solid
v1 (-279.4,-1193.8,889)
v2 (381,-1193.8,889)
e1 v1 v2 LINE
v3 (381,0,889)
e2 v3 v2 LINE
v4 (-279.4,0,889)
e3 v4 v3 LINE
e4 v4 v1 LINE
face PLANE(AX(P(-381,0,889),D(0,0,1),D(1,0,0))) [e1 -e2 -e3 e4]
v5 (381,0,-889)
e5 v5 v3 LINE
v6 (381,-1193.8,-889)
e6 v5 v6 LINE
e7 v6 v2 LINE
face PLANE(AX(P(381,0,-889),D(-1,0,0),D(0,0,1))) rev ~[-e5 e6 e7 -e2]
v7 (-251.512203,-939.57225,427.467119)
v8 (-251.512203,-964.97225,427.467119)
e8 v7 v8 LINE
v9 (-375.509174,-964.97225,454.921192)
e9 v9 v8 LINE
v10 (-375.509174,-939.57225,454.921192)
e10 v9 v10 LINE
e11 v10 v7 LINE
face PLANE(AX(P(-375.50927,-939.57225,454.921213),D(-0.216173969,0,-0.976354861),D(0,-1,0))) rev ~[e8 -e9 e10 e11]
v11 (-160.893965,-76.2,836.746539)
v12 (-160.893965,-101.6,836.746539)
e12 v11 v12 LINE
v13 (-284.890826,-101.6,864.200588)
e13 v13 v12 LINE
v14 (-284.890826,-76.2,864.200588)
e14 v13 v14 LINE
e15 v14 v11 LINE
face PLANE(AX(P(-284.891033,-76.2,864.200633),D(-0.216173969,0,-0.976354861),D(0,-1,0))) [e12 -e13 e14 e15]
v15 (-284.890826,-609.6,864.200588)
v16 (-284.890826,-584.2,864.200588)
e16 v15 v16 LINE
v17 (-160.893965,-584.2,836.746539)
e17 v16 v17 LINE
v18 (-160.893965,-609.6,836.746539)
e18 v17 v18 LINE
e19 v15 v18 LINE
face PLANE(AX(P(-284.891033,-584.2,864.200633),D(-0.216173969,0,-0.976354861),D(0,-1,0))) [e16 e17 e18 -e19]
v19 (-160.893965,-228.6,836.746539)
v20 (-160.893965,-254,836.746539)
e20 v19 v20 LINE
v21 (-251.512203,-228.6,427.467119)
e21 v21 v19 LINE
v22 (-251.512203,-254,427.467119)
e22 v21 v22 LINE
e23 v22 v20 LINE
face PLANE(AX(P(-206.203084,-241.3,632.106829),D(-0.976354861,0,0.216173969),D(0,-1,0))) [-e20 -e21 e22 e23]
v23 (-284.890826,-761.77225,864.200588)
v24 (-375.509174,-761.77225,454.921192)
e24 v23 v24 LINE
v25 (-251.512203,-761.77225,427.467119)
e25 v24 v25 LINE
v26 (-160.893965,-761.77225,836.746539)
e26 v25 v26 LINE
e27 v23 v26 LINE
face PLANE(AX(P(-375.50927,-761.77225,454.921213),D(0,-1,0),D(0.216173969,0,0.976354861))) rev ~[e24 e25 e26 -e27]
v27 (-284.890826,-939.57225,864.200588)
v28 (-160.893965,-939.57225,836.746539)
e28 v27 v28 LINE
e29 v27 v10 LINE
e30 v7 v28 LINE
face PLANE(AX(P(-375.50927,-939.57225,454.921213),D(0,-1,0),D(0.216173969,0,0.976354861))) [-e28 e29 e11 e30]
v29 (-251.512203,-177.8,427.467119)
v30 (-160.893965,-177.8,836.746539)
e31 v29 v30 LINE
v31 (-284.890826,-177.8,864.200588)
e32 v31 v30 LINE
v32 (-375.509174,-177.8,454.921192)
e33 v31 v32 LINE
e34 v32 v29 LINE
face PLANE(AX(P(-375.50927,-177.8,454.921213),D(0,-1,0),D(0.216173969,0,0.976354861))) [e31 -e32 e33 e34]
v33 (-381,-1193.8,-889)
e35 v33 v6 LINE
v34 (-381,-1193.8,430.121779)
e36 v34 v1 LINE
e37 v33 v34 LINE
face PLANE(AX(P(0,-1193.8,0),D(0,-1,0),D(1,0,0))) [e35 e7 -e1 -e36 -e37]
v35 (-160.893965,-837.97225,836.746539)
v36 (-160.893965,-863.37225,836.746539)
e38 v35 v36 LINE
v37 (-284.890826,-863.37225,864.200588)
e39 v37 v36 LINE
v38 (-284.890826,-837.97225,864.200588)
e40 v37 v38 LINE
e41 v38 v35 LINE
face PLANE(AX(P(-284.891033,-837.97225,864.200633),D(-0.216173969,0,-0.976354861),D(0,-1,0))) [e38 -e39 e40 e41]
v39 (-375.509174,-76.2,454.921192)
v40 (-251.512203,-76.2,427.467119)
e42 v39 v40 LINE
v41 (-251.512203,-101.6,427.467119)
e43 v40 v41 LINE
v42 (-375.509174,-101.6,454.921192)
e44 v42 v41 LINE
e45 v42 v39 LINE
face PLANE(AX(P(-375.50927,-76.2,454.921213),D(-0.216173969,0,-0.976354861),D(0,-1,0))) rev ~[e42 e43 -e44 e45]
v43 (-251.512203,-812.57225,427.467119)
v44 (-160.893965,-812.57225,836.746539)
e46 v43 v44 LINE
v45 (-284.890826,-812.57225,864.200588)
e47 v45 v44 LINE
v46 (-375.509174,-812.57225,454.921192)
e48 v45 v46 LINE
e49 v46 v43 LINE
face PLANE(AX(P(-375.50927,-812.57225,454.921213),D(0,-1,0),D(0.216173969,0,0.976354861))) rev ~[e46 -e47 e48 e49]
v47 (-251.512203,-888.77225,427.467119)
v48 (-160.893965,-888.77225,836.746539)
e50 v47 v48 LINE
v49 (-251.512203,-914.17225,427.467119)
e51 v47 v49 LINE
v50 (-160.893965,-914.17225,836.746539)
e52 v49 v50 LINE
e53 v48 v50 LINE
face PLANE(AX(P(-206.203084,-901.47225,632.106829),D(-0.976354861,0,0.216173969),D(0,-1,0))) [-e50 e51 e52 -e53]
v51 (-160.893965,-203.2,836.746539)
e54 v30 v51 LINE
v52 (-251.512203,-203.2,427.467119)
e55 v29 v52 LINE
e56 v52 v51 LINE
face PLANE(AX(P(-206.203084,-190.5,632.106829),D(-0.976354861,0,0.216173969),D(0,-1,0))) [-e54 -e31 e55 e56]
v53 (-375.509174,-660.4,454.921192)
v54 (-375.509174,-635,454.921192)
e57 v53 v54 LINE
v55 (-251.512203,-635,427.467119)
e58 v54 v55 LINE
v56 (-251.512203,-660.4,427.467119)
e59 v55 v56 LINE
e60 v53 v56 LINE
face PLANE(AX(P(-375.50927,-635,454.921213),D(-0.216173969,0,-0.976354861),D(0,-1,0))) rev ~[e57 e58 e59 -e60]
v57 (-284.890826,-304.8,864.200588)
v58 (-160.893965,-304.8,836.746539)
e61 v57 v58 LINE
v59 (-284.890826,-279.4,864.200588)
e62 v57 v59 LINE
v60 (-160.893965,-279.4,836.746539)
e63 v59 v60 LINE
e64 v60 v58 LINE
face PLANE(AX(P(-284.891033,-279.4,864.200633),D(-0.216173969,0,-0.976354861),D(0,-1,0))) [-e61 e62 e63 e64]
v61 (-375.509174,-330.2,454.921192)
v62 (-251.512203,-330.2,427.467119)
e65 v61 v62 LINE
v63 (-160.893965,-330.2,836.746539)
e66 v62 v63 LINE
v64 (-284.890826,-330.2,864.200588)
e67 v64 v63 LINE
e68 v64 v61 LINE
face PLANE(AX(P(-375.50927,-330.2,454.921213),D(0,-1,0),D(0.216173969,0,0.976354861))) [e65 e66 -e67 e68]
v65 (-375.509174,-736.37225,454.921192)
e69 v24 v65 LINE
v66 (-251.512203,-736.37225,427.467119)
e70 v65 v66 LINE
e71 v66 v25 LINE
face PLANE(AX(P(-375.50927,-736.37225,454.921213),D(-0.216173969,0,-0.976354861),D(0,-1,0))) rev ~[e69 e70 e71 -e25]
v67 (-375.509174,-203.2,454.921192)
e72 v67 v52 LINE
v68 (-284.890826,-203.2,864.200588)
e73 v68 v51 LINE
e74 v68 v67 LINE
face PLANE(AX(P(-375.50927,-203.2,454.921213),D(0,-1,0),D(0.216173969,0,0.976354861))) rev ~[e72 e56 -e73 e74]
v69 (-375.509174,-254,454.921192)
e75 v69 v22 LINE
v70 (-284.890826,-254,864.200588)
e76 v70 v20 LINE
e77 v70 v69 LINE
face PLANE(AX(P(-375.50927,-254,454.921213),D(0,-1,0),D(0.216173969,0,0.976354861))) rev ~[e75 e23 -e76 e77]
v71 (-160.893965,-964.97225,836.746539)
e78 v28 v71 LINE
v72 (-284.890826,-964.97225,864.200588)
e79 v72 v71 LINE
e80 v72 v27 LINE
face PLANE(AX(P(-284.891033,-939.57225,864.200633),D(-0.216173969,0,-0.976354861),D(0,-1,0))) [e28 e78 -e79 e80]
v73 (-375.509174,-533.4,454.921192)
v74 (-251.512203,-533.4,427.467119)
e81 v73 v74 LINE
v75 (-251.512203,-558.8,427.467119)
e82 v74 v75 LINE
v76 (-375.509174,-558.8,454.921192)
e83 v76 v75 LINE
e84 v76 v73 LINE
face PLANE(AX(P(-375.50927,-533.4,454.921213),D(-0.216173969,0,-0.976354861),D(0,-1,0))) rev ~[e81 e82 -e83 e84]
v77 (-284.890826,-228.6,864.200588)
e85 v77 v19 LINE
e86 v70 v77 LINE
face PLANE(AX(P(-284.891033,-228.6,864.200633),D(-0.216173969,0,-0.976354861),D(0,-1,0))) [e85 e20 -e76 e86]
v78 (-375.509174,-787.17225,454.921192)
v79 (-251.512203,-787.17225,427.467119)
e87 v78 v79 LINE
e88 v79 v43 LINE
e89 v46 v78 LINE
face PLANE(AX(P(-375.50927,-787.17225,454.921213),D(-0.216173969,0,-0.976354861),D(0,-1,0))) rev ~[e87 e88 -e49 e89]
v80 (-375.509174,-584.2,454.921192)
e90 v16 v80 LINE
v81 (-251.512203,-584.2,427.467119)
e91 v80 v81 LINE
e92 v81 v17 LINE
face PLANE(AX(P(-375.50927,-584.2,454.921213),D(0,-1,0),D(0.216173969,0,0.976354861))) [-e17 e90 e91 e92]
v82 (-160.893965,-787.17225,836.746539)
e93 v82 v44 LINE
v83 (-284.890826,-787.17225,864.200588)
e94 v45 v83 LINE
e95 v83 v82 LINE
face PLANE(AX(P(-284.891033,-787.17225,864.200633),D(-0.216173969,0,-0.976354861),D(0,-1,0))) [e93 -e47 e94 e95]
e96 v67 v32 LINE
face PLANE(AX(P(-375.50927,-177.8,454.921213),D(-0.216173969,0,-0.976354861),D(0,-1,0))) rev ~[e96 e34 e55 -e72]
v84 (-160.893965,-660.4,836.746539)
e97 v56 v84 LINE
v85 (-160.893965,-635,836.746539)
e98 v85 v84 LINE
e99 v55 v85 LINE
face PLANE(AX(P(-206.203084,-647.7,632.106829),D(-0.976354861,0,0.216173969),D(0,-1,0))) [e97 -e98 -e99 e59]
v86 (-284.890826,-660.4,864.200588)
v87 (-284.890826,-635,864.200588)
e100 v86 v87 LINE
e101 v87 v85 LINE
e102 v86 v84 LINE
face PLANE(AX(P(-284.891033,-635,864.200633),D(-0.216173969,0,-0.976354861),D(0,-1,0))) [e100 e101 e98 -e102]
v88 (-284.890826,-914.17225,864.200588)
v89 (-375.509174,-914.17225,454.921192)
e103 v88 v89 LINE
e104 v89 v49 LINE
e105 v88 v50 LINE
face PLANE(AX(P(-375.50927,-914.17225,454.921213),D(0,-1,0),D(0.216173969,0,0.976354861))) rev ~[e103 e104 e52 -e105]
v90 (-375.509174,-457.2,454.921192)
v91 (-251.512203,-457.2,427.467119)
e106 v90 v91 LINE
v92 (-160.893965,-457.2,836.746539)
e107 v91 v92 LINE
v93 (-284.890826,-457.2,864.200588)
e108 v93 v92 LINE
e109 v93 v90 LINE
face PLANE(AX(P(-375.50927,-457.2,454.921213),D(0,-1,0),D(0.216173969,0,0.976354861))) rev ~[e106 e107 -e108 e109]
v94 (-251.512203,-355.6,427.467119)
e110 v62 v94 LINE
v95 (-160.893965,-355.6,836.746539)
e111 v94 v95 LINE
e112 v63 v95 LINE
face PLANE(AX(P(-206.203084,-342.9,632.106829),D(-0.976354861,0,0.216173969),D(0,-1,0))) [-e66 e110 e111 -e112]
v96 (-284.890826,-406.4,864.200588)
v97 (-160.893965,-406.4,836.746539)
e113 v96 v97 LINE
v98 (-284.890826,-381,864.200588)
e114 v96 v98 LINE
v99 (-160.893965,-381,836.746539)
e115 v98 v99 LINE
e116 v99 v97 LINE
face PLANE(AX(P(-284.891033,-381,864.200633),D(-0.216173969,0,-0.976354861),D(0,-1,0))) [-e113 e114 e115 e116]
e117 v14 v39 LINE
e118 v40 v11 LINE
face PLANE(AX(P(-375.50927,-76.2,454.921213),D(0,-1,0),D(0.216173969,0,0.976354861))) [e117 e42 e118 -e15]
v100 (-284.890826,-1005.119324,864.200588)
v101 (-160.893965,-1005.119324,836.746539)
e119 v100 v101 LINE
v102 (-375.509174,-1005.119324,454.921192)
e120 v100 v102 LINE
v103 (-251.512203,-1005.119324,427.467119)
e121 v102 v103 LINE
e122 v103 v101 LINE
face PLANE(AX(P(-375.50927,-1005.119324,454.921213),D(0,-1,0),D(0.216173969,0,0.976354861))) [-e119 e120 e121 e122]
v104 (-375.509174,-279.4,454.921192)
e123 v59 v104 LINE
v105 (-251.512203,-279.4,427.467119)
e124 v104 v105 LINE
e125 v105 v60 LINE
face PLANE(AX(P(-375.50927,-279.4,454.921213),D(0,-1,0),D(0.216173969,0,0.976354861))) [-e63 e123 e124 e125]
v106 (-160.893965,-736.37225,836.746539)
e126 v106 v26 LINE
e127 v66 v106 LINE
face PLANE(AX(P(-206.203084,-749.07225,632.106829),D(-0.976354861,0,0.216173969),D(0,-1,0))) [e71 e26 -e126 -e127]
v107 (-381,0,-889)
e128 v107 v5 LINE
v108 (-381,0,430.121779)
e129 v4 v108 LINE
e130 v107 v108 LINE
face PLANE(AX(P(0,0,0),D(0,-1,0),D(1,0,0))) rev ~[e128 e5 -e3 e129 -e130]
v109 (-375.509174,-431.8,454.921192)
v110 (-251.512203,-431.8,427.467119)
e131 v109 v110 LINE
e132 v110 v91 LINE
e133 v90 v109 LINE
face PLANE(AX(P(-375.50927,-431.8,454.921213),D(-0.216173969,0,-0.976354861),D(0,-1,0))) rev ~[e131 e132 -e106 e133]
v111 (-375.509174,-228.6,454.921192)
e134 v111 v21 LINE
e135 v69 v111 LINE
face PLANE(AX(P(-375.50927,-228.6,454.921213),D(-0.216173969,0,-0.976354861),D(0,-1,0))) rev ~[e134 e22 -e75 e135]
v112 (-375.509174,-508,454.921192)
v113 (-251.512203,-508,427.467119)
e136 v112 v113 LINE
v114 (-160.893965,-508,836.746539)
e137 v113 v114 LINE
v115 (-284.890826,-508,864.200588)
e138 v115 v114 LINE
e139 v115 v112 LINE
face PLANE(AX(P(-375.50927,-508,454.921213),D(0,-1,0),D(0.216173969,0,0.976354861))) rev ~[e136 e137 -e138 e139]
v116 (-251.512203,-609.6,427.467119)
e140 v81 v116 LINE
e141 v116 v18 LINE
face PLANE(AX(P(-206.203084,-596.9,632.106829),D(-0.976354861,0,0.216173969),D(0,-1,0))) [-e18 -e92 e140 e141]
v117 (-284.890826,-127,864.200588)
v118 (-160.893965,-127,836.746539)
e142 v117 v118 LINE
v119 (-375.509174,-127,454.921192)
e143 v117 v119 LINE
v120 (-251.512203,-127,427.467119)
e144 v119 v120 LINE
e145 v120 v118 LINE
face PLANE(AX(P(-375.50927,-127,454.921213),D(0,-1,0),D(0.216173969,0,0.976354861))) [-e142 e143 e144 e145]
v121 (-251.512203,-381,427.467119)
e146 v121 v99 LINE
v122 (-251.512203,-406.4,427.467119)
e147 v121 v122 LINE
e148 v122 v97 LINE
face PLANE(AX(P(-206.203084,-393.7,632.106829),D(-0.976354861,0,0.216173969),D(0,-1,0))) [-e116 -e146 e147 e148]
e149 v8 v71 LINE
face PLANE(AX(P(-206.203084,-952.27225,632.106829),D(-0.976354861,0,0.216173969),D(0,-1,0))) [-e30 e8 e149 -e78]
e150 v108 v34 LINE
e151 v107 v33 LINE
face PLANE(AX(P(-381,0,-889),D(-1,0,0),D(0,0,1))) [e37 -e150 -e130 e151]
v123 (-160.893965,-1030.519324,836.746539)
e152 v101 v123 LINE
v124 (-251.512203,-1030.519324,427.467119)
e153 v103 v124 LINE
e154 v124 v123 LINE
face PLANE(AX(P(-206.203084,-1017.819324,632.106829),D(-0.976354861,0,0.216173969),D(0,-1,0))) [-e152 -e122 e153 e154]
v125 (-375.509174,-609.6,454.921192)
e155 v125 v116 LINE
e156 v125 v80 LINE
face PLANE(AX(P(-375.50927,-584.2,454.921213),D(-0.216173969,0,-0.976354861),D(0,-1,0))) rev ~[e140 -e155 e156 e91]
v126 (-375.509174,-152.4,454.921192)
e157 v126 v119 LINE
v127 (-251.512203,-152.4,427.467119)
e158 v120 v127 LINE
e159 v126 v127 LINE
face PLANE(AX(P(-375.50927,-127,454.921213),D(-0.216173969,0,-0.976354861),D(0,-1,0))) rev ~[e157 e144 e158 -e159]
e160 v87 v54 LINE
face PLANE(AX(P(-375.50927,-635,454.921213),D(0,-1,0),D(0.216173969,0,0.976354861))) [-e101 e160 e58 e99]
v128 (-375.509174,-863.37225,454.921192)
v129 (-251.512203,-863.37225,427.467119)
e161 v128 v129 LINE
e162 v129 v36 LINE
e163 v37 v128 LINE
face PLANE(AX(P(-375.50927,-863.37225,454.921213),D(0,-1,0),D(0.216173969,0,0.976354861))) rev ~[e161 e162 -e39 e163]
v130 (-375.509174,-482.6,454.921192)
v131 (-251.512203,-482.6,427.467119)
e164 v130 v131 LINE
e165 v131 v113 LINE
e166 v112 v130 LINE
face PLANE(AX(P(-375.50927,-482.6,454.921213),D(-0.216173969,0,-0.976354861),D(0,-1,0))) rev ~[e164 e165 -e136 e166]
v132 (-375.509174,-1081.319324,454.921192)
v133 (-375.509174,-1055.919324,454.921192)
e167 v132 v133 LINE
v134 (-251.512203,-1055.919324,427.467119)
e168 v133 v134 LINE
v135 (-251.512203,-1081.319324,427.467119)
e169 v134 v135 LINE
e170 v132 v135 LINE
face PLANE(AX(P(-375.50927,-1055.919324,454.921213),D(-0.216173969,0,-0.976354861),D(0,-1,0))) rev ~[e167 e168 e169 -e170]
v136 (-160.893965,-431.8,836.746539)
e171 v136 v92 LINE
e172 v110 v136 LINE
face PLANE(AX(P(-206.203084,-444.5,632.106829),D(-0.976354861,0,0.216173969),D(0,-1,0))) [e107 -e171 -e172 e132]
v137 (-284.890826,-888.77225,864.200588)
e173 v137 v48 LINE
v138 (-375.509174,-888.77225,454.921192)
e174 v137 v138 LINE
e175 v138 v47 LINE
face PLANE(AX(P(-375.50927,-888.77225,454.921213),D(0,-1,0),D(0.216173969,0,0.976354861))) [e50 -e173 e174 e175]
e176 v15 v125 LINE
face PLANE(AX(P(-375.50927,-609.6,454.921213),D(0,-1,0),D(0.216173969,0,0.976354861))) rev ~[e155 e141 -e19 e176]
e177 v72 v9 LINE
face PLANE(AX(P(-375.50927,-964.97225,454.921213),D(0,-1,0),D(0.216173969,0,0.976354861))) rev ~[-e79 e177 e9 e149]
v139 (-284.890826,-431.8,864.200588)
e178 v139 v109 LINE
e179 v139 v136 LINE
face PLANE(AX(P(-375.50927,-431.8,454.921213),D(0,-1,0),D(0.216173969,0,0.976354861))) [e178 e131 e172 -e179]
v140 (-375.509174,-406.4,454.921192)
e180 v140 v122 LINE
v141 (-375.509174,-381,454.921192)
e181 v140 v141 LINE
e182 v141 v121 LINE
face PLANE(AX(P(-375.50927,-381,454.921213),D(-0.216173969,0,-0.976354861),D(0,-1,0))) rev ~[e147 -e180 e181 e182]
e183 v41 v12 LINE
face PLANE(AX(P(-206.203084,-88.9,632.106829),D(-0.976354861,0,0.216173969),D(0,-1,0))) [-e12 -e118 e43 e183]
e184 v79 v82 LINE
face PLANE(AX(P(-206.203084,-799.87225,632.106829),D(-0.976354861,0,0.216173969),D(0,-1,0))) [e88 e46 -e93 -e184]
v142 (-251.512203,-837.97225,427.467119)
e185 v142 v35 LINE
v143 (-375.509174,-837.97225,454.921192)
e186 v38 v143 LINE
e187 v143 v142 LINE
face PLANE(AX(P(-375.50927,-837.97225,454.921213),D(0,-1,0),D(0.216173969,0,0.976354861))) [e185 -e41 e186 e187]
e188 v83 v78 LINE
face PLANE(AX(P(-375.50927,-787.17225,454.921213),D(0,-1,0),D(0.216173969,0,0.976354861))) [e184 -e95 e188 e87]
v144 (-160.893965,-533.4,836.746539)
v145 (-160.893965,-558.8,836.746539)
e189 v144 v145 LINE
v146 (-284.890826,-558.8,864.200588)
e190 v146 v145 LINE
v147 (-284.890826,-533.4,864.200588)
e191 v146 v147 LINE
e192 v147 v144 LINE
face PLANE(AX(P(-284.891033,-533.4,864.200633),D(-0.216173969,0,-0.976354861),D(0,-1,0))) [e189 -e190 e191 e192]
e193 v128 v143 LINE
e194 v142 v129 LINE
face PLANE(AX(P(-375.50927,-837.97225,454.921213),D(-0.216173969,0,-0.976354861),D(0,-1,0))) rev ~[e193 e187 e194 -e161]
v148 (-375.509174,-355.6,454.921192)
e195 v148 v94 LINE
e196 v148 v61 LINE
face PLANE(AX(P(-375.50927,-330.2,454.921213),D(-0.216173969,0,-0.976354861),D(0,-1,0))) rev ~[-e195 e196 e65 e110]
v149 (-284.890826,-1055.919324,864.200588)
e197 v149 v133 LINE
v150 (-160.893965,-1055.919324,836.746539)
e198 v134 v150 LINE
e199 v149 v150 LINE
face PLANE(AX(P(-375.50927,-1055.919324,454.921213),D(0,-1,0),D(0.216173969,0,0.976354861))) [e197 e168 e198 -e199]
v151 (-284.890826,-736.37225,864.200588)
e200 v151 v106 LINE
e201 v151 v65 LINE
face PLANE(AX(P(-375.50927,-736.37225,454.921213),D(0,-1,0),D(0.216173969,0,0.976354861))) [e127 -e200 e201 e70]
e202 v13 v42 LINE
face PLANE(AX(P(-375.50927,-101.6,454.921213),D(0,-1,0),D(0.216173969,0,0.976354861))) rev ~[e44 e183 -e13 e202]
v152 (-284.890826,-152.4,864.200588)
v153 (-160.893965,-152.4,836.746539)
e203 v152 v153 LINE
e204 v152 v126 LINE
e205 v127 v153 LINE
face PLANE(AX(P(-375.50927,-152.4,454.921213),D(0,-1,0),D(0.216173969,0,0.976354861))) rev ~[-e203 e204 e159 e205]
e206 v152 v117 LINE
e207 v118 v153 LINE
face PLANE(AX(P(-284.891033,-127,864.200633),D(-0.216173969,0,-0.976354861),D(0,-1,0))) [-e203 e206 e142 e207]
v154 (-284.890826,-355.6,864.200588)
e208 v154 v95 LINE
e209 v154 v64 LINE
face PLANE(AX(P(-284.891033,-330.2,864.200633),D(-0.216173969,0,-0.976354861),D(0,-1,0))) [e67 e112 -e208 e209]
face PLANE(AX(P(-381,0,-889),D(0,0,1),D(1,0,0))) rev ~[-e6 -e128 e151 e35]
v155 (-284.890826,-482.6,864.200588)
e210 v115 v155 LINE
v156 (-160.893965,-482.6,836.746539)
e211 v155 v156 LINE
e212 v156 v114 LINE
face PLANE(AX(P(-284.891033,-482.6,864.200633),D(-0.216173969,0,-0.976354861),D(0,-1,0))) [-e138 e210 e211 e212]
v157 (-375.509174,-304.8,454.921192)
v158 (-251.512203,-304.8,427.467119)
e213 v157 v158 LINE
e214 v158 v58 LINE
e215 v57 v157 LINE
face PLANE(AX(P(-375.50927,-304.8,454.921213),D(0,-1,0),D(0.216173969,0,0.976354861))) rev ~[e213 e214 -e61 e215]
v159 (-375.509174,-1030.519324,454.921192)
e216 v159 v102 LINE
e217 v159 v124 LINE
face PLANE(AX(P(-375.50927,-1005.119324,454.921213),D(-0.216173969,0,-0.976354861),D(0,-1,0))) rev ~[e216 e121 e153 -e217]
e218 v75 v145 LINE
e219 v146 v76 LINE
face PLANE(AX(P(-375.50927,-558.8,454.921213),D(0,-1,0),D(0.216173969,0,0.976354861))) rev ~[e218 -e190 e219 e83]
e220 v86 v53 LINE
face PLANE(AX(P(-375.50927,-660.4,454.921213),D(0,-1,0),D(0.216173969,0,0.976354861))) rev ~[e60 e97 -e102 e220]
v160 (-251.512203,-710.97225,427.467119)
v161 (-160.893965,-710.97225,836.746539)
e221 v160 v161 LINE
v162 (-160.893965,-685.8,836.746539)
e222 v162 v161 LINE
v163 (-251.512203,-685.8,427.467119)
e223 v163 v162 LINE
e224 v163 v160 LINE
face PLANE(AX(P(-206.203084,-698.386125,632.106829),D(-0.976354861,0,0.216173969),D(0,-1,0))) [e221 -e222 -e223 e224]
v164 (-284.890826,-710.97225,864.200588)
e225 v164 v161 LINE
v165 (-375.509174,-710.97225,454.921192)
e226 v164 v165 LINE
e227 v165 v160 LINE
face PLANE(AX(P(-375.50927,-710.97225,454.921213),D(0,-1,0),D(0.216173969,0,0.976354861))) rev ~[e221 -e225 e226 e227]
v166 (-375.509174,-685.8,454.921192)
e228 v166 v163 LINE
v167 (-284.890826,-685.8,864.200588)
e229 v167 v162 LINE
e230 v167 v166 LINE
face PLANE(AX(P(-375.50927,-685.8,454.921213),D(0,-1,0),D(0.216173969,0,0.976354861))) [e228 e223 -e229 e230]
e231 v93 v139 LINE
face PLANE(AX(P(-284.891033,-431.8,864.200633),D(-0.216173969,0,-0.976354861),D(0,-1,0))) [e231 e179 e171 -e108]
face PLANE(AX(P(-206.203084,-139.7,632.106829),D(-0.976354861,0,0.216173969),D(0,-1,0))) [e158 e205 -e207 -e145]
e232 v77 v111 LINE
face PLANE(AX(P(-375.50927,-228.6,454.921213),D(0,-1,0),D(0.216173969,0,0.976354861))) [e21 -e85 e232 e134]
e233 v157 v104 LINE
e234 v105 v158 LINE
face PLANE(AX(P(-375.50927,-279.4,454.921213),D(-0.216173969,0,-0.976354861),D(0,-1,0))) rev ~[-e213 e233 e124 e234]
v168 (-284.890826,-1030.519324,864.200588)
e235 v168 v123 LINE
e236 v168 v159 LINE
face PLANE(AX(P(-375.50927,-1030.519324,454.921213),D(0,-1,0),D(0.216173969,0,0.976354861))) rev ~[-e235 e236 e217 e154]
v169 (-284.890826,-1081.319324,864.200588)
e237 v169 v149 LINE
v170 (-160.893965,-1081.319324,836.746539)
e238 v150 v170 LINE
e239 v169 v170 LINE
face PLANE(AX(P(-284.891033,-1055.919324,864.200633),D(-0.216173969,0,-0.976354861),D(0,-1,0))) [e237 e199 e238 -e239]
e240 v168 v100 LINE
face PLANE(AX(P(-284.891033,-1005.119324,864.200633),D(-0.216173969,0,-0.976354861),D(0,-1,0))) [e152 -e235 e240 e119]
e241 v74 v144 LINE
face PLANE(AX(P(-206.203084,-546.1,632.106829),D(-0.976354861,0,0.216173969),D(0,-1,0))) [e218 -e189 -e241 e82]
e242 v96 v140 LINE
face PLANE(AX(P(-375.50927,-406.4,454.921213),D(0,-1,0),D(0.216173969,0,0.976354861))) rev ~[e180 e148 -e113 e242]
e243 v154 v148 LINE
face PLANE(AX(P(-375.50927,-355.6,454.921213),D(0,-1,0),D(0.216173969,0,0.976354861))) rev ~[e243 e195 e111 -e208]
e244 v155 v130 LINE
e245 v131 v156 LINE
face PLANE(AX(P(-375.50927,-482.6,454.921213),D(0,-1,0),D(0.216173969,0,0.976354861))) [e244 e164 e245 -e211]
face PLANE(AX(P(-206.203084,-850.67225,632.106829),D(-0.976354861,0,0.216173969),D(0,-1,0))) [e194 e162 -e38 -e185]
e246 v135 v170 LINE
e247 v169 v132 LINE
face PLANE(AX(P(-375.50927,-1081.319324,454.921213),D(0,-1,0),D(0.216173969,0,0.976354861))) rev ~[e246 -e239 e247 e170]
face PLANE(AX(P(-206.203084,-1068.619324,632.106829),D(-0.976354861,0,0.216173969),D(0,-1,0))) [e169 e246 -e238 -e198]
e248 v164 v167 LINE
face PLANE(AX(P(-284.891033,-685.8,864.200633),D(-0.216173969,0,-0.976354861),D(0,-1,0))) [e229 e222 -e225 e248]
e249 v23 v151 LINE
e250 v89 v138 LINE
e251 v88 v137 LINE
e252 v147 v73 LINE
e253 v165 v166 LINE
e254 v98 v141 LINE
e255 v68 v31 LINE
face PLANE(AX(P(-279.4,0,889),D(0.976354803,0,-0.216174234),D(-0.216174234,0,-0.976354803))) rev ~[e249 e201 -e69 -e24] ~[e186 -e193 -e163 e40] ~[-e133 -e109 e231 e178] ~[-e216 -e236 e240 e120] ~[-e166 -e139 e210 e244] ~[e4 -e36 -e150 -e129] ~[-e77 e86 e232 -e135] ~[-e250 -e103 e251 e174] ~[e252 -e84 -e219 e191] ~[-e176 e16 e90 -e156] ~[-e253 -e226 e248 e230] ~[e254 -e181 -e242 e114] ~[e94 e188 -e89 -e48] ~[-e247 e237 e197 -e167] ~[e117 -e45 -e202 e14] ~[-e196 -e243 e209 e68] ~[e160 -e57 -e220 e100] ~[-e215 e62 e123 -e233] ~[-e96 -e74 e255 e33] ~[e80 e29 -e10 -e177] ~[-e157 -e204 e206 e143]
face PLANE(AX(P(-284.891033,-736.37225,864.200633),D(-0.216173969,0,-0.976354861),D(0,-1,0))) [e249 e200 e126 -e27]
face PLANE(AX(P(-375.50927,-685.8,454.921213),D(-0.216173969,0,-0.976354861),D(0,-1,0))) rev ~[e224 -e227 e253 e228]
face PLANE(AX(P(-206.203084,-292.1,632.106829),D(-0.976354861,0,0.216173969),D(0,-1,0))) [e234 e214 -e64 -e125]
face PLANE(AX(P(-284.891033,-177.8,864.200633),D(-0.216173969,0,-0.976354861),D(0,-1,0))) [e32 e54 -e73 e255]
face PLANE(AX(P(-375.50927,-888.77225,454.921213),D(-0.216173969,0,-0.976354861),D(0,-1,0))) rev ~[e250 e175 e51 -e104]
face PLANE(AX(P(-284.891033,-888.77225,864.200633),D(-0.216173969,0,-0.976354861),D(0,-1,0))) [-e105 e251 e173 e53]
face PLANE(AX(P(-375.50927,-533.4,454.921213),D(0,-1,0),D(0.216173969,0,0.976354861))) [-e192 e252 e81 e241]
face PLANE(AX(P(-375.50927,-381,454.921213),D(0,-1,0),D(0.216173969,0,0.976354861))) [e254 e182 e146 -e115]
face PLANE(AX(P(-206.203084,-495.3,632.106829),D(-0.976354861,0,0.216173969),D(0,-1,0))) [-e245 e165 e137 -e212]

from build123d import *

# Parameters (mm, degrees)
F0_W     = 762
F0_H     = 1778
F1_DEPTH = 1193.8
F3_DEPTH = 1524
F4_W     = 25.4
F4_H     = 419.191256
F4_W_2   = 25.17225
F5_DEPTH = 127


with BuildPart() as f1:
    # F0 (on Front) → F1 (new body)
    with BuildSketch(Plane.XZ):
        Rectangle(F0_W, F0_H)
    extrude(amount=F1_DEPTH)

    # F2 (on face) → F3 (cut)
    with BuildSketch(Plane(origin=(0, 0, 0), x_dir=(-1, 0, 0), z_dir=(0, 1, 0))):
        Polygon((381, 889), (279.4, 889), (381, 430.121779), align=None)
    extrude(amount=-F3_DEPTH, mode=Mode.SUBTRACT)

    # F4 (on face) → F5 (cut)
    with BuildSketch(Plane(origin=(-453.978061, 0, 100.515058), x_dir=(0, -1, 0), z_dir=(-0.976355, 0, 0.216174))):
        with Locations((88.9, 572.58471)):
            Rectangle(F4_W, F4_H)
        with Locations((139.7, 572.58471)):
            Rectangle(F4_W, F4_H)
        with Locations((190.5, 572.58471)):
            Rectangle(F4_W, F4_H)
        with Locations((241.3, 572.58471)):
            Rectangle(F4_W, F4_H)
        with Locations((292.1, 572.58471)):
            Rectangle(F4_W, F4_H)
        with Locations((342.9, 572.58471)):
            Rectangle(F4_W, F4_H)
        with Locations((393.7, 572.58471)):
            Rectangle(F4_W, F4_H)
        with Locations((444.5, 572.58471)):
            Rectangle(F4_W, F4_H)
        with Locations((495.3, 572.58471)):
            Rectangle(F4_W, F4_H)
        with Locations((546.1, 572.58471)):
            Rectangle(F4_W, F4_H)
        with Locations((596.9, 572.58471)):
            Rectangle(F4_W, F4_H)
        with Locations((647.7, 572.58471)):
            Rectangle(F4_W, F4_H)
        with Locations((698.386125, 572.58471)):
            Rectangle(F4_W_2, F4_H)
        with Locations((749.07225, 572.58471)):
            Rectangle(F4_W, F4_H)
        with Locations((799.87225, 572.58471)):
            Rectangle(F4_W, F4_H)
        with Locations((850.67225, 572.58471)):
            Rectangle(F4_W, F4_H)
        with Locations((901.47225, 572.58471)):
            Rectangle(F4_W, F4_H)
        with Locations((952.27225, 572.58471)):
            Rectangle(F4_W, F4_H)
        with Locations((1017.819324, 572.58471)):
            Rectangle(F4_W, F4_H)
        with Locations((1068.619324, 572.58471)):
            Rectangle(F4_W, F4_H)
    extrude(amount=-F5_DEPTH, mode=Mode.SUBTRACT)


solid = f1.part
